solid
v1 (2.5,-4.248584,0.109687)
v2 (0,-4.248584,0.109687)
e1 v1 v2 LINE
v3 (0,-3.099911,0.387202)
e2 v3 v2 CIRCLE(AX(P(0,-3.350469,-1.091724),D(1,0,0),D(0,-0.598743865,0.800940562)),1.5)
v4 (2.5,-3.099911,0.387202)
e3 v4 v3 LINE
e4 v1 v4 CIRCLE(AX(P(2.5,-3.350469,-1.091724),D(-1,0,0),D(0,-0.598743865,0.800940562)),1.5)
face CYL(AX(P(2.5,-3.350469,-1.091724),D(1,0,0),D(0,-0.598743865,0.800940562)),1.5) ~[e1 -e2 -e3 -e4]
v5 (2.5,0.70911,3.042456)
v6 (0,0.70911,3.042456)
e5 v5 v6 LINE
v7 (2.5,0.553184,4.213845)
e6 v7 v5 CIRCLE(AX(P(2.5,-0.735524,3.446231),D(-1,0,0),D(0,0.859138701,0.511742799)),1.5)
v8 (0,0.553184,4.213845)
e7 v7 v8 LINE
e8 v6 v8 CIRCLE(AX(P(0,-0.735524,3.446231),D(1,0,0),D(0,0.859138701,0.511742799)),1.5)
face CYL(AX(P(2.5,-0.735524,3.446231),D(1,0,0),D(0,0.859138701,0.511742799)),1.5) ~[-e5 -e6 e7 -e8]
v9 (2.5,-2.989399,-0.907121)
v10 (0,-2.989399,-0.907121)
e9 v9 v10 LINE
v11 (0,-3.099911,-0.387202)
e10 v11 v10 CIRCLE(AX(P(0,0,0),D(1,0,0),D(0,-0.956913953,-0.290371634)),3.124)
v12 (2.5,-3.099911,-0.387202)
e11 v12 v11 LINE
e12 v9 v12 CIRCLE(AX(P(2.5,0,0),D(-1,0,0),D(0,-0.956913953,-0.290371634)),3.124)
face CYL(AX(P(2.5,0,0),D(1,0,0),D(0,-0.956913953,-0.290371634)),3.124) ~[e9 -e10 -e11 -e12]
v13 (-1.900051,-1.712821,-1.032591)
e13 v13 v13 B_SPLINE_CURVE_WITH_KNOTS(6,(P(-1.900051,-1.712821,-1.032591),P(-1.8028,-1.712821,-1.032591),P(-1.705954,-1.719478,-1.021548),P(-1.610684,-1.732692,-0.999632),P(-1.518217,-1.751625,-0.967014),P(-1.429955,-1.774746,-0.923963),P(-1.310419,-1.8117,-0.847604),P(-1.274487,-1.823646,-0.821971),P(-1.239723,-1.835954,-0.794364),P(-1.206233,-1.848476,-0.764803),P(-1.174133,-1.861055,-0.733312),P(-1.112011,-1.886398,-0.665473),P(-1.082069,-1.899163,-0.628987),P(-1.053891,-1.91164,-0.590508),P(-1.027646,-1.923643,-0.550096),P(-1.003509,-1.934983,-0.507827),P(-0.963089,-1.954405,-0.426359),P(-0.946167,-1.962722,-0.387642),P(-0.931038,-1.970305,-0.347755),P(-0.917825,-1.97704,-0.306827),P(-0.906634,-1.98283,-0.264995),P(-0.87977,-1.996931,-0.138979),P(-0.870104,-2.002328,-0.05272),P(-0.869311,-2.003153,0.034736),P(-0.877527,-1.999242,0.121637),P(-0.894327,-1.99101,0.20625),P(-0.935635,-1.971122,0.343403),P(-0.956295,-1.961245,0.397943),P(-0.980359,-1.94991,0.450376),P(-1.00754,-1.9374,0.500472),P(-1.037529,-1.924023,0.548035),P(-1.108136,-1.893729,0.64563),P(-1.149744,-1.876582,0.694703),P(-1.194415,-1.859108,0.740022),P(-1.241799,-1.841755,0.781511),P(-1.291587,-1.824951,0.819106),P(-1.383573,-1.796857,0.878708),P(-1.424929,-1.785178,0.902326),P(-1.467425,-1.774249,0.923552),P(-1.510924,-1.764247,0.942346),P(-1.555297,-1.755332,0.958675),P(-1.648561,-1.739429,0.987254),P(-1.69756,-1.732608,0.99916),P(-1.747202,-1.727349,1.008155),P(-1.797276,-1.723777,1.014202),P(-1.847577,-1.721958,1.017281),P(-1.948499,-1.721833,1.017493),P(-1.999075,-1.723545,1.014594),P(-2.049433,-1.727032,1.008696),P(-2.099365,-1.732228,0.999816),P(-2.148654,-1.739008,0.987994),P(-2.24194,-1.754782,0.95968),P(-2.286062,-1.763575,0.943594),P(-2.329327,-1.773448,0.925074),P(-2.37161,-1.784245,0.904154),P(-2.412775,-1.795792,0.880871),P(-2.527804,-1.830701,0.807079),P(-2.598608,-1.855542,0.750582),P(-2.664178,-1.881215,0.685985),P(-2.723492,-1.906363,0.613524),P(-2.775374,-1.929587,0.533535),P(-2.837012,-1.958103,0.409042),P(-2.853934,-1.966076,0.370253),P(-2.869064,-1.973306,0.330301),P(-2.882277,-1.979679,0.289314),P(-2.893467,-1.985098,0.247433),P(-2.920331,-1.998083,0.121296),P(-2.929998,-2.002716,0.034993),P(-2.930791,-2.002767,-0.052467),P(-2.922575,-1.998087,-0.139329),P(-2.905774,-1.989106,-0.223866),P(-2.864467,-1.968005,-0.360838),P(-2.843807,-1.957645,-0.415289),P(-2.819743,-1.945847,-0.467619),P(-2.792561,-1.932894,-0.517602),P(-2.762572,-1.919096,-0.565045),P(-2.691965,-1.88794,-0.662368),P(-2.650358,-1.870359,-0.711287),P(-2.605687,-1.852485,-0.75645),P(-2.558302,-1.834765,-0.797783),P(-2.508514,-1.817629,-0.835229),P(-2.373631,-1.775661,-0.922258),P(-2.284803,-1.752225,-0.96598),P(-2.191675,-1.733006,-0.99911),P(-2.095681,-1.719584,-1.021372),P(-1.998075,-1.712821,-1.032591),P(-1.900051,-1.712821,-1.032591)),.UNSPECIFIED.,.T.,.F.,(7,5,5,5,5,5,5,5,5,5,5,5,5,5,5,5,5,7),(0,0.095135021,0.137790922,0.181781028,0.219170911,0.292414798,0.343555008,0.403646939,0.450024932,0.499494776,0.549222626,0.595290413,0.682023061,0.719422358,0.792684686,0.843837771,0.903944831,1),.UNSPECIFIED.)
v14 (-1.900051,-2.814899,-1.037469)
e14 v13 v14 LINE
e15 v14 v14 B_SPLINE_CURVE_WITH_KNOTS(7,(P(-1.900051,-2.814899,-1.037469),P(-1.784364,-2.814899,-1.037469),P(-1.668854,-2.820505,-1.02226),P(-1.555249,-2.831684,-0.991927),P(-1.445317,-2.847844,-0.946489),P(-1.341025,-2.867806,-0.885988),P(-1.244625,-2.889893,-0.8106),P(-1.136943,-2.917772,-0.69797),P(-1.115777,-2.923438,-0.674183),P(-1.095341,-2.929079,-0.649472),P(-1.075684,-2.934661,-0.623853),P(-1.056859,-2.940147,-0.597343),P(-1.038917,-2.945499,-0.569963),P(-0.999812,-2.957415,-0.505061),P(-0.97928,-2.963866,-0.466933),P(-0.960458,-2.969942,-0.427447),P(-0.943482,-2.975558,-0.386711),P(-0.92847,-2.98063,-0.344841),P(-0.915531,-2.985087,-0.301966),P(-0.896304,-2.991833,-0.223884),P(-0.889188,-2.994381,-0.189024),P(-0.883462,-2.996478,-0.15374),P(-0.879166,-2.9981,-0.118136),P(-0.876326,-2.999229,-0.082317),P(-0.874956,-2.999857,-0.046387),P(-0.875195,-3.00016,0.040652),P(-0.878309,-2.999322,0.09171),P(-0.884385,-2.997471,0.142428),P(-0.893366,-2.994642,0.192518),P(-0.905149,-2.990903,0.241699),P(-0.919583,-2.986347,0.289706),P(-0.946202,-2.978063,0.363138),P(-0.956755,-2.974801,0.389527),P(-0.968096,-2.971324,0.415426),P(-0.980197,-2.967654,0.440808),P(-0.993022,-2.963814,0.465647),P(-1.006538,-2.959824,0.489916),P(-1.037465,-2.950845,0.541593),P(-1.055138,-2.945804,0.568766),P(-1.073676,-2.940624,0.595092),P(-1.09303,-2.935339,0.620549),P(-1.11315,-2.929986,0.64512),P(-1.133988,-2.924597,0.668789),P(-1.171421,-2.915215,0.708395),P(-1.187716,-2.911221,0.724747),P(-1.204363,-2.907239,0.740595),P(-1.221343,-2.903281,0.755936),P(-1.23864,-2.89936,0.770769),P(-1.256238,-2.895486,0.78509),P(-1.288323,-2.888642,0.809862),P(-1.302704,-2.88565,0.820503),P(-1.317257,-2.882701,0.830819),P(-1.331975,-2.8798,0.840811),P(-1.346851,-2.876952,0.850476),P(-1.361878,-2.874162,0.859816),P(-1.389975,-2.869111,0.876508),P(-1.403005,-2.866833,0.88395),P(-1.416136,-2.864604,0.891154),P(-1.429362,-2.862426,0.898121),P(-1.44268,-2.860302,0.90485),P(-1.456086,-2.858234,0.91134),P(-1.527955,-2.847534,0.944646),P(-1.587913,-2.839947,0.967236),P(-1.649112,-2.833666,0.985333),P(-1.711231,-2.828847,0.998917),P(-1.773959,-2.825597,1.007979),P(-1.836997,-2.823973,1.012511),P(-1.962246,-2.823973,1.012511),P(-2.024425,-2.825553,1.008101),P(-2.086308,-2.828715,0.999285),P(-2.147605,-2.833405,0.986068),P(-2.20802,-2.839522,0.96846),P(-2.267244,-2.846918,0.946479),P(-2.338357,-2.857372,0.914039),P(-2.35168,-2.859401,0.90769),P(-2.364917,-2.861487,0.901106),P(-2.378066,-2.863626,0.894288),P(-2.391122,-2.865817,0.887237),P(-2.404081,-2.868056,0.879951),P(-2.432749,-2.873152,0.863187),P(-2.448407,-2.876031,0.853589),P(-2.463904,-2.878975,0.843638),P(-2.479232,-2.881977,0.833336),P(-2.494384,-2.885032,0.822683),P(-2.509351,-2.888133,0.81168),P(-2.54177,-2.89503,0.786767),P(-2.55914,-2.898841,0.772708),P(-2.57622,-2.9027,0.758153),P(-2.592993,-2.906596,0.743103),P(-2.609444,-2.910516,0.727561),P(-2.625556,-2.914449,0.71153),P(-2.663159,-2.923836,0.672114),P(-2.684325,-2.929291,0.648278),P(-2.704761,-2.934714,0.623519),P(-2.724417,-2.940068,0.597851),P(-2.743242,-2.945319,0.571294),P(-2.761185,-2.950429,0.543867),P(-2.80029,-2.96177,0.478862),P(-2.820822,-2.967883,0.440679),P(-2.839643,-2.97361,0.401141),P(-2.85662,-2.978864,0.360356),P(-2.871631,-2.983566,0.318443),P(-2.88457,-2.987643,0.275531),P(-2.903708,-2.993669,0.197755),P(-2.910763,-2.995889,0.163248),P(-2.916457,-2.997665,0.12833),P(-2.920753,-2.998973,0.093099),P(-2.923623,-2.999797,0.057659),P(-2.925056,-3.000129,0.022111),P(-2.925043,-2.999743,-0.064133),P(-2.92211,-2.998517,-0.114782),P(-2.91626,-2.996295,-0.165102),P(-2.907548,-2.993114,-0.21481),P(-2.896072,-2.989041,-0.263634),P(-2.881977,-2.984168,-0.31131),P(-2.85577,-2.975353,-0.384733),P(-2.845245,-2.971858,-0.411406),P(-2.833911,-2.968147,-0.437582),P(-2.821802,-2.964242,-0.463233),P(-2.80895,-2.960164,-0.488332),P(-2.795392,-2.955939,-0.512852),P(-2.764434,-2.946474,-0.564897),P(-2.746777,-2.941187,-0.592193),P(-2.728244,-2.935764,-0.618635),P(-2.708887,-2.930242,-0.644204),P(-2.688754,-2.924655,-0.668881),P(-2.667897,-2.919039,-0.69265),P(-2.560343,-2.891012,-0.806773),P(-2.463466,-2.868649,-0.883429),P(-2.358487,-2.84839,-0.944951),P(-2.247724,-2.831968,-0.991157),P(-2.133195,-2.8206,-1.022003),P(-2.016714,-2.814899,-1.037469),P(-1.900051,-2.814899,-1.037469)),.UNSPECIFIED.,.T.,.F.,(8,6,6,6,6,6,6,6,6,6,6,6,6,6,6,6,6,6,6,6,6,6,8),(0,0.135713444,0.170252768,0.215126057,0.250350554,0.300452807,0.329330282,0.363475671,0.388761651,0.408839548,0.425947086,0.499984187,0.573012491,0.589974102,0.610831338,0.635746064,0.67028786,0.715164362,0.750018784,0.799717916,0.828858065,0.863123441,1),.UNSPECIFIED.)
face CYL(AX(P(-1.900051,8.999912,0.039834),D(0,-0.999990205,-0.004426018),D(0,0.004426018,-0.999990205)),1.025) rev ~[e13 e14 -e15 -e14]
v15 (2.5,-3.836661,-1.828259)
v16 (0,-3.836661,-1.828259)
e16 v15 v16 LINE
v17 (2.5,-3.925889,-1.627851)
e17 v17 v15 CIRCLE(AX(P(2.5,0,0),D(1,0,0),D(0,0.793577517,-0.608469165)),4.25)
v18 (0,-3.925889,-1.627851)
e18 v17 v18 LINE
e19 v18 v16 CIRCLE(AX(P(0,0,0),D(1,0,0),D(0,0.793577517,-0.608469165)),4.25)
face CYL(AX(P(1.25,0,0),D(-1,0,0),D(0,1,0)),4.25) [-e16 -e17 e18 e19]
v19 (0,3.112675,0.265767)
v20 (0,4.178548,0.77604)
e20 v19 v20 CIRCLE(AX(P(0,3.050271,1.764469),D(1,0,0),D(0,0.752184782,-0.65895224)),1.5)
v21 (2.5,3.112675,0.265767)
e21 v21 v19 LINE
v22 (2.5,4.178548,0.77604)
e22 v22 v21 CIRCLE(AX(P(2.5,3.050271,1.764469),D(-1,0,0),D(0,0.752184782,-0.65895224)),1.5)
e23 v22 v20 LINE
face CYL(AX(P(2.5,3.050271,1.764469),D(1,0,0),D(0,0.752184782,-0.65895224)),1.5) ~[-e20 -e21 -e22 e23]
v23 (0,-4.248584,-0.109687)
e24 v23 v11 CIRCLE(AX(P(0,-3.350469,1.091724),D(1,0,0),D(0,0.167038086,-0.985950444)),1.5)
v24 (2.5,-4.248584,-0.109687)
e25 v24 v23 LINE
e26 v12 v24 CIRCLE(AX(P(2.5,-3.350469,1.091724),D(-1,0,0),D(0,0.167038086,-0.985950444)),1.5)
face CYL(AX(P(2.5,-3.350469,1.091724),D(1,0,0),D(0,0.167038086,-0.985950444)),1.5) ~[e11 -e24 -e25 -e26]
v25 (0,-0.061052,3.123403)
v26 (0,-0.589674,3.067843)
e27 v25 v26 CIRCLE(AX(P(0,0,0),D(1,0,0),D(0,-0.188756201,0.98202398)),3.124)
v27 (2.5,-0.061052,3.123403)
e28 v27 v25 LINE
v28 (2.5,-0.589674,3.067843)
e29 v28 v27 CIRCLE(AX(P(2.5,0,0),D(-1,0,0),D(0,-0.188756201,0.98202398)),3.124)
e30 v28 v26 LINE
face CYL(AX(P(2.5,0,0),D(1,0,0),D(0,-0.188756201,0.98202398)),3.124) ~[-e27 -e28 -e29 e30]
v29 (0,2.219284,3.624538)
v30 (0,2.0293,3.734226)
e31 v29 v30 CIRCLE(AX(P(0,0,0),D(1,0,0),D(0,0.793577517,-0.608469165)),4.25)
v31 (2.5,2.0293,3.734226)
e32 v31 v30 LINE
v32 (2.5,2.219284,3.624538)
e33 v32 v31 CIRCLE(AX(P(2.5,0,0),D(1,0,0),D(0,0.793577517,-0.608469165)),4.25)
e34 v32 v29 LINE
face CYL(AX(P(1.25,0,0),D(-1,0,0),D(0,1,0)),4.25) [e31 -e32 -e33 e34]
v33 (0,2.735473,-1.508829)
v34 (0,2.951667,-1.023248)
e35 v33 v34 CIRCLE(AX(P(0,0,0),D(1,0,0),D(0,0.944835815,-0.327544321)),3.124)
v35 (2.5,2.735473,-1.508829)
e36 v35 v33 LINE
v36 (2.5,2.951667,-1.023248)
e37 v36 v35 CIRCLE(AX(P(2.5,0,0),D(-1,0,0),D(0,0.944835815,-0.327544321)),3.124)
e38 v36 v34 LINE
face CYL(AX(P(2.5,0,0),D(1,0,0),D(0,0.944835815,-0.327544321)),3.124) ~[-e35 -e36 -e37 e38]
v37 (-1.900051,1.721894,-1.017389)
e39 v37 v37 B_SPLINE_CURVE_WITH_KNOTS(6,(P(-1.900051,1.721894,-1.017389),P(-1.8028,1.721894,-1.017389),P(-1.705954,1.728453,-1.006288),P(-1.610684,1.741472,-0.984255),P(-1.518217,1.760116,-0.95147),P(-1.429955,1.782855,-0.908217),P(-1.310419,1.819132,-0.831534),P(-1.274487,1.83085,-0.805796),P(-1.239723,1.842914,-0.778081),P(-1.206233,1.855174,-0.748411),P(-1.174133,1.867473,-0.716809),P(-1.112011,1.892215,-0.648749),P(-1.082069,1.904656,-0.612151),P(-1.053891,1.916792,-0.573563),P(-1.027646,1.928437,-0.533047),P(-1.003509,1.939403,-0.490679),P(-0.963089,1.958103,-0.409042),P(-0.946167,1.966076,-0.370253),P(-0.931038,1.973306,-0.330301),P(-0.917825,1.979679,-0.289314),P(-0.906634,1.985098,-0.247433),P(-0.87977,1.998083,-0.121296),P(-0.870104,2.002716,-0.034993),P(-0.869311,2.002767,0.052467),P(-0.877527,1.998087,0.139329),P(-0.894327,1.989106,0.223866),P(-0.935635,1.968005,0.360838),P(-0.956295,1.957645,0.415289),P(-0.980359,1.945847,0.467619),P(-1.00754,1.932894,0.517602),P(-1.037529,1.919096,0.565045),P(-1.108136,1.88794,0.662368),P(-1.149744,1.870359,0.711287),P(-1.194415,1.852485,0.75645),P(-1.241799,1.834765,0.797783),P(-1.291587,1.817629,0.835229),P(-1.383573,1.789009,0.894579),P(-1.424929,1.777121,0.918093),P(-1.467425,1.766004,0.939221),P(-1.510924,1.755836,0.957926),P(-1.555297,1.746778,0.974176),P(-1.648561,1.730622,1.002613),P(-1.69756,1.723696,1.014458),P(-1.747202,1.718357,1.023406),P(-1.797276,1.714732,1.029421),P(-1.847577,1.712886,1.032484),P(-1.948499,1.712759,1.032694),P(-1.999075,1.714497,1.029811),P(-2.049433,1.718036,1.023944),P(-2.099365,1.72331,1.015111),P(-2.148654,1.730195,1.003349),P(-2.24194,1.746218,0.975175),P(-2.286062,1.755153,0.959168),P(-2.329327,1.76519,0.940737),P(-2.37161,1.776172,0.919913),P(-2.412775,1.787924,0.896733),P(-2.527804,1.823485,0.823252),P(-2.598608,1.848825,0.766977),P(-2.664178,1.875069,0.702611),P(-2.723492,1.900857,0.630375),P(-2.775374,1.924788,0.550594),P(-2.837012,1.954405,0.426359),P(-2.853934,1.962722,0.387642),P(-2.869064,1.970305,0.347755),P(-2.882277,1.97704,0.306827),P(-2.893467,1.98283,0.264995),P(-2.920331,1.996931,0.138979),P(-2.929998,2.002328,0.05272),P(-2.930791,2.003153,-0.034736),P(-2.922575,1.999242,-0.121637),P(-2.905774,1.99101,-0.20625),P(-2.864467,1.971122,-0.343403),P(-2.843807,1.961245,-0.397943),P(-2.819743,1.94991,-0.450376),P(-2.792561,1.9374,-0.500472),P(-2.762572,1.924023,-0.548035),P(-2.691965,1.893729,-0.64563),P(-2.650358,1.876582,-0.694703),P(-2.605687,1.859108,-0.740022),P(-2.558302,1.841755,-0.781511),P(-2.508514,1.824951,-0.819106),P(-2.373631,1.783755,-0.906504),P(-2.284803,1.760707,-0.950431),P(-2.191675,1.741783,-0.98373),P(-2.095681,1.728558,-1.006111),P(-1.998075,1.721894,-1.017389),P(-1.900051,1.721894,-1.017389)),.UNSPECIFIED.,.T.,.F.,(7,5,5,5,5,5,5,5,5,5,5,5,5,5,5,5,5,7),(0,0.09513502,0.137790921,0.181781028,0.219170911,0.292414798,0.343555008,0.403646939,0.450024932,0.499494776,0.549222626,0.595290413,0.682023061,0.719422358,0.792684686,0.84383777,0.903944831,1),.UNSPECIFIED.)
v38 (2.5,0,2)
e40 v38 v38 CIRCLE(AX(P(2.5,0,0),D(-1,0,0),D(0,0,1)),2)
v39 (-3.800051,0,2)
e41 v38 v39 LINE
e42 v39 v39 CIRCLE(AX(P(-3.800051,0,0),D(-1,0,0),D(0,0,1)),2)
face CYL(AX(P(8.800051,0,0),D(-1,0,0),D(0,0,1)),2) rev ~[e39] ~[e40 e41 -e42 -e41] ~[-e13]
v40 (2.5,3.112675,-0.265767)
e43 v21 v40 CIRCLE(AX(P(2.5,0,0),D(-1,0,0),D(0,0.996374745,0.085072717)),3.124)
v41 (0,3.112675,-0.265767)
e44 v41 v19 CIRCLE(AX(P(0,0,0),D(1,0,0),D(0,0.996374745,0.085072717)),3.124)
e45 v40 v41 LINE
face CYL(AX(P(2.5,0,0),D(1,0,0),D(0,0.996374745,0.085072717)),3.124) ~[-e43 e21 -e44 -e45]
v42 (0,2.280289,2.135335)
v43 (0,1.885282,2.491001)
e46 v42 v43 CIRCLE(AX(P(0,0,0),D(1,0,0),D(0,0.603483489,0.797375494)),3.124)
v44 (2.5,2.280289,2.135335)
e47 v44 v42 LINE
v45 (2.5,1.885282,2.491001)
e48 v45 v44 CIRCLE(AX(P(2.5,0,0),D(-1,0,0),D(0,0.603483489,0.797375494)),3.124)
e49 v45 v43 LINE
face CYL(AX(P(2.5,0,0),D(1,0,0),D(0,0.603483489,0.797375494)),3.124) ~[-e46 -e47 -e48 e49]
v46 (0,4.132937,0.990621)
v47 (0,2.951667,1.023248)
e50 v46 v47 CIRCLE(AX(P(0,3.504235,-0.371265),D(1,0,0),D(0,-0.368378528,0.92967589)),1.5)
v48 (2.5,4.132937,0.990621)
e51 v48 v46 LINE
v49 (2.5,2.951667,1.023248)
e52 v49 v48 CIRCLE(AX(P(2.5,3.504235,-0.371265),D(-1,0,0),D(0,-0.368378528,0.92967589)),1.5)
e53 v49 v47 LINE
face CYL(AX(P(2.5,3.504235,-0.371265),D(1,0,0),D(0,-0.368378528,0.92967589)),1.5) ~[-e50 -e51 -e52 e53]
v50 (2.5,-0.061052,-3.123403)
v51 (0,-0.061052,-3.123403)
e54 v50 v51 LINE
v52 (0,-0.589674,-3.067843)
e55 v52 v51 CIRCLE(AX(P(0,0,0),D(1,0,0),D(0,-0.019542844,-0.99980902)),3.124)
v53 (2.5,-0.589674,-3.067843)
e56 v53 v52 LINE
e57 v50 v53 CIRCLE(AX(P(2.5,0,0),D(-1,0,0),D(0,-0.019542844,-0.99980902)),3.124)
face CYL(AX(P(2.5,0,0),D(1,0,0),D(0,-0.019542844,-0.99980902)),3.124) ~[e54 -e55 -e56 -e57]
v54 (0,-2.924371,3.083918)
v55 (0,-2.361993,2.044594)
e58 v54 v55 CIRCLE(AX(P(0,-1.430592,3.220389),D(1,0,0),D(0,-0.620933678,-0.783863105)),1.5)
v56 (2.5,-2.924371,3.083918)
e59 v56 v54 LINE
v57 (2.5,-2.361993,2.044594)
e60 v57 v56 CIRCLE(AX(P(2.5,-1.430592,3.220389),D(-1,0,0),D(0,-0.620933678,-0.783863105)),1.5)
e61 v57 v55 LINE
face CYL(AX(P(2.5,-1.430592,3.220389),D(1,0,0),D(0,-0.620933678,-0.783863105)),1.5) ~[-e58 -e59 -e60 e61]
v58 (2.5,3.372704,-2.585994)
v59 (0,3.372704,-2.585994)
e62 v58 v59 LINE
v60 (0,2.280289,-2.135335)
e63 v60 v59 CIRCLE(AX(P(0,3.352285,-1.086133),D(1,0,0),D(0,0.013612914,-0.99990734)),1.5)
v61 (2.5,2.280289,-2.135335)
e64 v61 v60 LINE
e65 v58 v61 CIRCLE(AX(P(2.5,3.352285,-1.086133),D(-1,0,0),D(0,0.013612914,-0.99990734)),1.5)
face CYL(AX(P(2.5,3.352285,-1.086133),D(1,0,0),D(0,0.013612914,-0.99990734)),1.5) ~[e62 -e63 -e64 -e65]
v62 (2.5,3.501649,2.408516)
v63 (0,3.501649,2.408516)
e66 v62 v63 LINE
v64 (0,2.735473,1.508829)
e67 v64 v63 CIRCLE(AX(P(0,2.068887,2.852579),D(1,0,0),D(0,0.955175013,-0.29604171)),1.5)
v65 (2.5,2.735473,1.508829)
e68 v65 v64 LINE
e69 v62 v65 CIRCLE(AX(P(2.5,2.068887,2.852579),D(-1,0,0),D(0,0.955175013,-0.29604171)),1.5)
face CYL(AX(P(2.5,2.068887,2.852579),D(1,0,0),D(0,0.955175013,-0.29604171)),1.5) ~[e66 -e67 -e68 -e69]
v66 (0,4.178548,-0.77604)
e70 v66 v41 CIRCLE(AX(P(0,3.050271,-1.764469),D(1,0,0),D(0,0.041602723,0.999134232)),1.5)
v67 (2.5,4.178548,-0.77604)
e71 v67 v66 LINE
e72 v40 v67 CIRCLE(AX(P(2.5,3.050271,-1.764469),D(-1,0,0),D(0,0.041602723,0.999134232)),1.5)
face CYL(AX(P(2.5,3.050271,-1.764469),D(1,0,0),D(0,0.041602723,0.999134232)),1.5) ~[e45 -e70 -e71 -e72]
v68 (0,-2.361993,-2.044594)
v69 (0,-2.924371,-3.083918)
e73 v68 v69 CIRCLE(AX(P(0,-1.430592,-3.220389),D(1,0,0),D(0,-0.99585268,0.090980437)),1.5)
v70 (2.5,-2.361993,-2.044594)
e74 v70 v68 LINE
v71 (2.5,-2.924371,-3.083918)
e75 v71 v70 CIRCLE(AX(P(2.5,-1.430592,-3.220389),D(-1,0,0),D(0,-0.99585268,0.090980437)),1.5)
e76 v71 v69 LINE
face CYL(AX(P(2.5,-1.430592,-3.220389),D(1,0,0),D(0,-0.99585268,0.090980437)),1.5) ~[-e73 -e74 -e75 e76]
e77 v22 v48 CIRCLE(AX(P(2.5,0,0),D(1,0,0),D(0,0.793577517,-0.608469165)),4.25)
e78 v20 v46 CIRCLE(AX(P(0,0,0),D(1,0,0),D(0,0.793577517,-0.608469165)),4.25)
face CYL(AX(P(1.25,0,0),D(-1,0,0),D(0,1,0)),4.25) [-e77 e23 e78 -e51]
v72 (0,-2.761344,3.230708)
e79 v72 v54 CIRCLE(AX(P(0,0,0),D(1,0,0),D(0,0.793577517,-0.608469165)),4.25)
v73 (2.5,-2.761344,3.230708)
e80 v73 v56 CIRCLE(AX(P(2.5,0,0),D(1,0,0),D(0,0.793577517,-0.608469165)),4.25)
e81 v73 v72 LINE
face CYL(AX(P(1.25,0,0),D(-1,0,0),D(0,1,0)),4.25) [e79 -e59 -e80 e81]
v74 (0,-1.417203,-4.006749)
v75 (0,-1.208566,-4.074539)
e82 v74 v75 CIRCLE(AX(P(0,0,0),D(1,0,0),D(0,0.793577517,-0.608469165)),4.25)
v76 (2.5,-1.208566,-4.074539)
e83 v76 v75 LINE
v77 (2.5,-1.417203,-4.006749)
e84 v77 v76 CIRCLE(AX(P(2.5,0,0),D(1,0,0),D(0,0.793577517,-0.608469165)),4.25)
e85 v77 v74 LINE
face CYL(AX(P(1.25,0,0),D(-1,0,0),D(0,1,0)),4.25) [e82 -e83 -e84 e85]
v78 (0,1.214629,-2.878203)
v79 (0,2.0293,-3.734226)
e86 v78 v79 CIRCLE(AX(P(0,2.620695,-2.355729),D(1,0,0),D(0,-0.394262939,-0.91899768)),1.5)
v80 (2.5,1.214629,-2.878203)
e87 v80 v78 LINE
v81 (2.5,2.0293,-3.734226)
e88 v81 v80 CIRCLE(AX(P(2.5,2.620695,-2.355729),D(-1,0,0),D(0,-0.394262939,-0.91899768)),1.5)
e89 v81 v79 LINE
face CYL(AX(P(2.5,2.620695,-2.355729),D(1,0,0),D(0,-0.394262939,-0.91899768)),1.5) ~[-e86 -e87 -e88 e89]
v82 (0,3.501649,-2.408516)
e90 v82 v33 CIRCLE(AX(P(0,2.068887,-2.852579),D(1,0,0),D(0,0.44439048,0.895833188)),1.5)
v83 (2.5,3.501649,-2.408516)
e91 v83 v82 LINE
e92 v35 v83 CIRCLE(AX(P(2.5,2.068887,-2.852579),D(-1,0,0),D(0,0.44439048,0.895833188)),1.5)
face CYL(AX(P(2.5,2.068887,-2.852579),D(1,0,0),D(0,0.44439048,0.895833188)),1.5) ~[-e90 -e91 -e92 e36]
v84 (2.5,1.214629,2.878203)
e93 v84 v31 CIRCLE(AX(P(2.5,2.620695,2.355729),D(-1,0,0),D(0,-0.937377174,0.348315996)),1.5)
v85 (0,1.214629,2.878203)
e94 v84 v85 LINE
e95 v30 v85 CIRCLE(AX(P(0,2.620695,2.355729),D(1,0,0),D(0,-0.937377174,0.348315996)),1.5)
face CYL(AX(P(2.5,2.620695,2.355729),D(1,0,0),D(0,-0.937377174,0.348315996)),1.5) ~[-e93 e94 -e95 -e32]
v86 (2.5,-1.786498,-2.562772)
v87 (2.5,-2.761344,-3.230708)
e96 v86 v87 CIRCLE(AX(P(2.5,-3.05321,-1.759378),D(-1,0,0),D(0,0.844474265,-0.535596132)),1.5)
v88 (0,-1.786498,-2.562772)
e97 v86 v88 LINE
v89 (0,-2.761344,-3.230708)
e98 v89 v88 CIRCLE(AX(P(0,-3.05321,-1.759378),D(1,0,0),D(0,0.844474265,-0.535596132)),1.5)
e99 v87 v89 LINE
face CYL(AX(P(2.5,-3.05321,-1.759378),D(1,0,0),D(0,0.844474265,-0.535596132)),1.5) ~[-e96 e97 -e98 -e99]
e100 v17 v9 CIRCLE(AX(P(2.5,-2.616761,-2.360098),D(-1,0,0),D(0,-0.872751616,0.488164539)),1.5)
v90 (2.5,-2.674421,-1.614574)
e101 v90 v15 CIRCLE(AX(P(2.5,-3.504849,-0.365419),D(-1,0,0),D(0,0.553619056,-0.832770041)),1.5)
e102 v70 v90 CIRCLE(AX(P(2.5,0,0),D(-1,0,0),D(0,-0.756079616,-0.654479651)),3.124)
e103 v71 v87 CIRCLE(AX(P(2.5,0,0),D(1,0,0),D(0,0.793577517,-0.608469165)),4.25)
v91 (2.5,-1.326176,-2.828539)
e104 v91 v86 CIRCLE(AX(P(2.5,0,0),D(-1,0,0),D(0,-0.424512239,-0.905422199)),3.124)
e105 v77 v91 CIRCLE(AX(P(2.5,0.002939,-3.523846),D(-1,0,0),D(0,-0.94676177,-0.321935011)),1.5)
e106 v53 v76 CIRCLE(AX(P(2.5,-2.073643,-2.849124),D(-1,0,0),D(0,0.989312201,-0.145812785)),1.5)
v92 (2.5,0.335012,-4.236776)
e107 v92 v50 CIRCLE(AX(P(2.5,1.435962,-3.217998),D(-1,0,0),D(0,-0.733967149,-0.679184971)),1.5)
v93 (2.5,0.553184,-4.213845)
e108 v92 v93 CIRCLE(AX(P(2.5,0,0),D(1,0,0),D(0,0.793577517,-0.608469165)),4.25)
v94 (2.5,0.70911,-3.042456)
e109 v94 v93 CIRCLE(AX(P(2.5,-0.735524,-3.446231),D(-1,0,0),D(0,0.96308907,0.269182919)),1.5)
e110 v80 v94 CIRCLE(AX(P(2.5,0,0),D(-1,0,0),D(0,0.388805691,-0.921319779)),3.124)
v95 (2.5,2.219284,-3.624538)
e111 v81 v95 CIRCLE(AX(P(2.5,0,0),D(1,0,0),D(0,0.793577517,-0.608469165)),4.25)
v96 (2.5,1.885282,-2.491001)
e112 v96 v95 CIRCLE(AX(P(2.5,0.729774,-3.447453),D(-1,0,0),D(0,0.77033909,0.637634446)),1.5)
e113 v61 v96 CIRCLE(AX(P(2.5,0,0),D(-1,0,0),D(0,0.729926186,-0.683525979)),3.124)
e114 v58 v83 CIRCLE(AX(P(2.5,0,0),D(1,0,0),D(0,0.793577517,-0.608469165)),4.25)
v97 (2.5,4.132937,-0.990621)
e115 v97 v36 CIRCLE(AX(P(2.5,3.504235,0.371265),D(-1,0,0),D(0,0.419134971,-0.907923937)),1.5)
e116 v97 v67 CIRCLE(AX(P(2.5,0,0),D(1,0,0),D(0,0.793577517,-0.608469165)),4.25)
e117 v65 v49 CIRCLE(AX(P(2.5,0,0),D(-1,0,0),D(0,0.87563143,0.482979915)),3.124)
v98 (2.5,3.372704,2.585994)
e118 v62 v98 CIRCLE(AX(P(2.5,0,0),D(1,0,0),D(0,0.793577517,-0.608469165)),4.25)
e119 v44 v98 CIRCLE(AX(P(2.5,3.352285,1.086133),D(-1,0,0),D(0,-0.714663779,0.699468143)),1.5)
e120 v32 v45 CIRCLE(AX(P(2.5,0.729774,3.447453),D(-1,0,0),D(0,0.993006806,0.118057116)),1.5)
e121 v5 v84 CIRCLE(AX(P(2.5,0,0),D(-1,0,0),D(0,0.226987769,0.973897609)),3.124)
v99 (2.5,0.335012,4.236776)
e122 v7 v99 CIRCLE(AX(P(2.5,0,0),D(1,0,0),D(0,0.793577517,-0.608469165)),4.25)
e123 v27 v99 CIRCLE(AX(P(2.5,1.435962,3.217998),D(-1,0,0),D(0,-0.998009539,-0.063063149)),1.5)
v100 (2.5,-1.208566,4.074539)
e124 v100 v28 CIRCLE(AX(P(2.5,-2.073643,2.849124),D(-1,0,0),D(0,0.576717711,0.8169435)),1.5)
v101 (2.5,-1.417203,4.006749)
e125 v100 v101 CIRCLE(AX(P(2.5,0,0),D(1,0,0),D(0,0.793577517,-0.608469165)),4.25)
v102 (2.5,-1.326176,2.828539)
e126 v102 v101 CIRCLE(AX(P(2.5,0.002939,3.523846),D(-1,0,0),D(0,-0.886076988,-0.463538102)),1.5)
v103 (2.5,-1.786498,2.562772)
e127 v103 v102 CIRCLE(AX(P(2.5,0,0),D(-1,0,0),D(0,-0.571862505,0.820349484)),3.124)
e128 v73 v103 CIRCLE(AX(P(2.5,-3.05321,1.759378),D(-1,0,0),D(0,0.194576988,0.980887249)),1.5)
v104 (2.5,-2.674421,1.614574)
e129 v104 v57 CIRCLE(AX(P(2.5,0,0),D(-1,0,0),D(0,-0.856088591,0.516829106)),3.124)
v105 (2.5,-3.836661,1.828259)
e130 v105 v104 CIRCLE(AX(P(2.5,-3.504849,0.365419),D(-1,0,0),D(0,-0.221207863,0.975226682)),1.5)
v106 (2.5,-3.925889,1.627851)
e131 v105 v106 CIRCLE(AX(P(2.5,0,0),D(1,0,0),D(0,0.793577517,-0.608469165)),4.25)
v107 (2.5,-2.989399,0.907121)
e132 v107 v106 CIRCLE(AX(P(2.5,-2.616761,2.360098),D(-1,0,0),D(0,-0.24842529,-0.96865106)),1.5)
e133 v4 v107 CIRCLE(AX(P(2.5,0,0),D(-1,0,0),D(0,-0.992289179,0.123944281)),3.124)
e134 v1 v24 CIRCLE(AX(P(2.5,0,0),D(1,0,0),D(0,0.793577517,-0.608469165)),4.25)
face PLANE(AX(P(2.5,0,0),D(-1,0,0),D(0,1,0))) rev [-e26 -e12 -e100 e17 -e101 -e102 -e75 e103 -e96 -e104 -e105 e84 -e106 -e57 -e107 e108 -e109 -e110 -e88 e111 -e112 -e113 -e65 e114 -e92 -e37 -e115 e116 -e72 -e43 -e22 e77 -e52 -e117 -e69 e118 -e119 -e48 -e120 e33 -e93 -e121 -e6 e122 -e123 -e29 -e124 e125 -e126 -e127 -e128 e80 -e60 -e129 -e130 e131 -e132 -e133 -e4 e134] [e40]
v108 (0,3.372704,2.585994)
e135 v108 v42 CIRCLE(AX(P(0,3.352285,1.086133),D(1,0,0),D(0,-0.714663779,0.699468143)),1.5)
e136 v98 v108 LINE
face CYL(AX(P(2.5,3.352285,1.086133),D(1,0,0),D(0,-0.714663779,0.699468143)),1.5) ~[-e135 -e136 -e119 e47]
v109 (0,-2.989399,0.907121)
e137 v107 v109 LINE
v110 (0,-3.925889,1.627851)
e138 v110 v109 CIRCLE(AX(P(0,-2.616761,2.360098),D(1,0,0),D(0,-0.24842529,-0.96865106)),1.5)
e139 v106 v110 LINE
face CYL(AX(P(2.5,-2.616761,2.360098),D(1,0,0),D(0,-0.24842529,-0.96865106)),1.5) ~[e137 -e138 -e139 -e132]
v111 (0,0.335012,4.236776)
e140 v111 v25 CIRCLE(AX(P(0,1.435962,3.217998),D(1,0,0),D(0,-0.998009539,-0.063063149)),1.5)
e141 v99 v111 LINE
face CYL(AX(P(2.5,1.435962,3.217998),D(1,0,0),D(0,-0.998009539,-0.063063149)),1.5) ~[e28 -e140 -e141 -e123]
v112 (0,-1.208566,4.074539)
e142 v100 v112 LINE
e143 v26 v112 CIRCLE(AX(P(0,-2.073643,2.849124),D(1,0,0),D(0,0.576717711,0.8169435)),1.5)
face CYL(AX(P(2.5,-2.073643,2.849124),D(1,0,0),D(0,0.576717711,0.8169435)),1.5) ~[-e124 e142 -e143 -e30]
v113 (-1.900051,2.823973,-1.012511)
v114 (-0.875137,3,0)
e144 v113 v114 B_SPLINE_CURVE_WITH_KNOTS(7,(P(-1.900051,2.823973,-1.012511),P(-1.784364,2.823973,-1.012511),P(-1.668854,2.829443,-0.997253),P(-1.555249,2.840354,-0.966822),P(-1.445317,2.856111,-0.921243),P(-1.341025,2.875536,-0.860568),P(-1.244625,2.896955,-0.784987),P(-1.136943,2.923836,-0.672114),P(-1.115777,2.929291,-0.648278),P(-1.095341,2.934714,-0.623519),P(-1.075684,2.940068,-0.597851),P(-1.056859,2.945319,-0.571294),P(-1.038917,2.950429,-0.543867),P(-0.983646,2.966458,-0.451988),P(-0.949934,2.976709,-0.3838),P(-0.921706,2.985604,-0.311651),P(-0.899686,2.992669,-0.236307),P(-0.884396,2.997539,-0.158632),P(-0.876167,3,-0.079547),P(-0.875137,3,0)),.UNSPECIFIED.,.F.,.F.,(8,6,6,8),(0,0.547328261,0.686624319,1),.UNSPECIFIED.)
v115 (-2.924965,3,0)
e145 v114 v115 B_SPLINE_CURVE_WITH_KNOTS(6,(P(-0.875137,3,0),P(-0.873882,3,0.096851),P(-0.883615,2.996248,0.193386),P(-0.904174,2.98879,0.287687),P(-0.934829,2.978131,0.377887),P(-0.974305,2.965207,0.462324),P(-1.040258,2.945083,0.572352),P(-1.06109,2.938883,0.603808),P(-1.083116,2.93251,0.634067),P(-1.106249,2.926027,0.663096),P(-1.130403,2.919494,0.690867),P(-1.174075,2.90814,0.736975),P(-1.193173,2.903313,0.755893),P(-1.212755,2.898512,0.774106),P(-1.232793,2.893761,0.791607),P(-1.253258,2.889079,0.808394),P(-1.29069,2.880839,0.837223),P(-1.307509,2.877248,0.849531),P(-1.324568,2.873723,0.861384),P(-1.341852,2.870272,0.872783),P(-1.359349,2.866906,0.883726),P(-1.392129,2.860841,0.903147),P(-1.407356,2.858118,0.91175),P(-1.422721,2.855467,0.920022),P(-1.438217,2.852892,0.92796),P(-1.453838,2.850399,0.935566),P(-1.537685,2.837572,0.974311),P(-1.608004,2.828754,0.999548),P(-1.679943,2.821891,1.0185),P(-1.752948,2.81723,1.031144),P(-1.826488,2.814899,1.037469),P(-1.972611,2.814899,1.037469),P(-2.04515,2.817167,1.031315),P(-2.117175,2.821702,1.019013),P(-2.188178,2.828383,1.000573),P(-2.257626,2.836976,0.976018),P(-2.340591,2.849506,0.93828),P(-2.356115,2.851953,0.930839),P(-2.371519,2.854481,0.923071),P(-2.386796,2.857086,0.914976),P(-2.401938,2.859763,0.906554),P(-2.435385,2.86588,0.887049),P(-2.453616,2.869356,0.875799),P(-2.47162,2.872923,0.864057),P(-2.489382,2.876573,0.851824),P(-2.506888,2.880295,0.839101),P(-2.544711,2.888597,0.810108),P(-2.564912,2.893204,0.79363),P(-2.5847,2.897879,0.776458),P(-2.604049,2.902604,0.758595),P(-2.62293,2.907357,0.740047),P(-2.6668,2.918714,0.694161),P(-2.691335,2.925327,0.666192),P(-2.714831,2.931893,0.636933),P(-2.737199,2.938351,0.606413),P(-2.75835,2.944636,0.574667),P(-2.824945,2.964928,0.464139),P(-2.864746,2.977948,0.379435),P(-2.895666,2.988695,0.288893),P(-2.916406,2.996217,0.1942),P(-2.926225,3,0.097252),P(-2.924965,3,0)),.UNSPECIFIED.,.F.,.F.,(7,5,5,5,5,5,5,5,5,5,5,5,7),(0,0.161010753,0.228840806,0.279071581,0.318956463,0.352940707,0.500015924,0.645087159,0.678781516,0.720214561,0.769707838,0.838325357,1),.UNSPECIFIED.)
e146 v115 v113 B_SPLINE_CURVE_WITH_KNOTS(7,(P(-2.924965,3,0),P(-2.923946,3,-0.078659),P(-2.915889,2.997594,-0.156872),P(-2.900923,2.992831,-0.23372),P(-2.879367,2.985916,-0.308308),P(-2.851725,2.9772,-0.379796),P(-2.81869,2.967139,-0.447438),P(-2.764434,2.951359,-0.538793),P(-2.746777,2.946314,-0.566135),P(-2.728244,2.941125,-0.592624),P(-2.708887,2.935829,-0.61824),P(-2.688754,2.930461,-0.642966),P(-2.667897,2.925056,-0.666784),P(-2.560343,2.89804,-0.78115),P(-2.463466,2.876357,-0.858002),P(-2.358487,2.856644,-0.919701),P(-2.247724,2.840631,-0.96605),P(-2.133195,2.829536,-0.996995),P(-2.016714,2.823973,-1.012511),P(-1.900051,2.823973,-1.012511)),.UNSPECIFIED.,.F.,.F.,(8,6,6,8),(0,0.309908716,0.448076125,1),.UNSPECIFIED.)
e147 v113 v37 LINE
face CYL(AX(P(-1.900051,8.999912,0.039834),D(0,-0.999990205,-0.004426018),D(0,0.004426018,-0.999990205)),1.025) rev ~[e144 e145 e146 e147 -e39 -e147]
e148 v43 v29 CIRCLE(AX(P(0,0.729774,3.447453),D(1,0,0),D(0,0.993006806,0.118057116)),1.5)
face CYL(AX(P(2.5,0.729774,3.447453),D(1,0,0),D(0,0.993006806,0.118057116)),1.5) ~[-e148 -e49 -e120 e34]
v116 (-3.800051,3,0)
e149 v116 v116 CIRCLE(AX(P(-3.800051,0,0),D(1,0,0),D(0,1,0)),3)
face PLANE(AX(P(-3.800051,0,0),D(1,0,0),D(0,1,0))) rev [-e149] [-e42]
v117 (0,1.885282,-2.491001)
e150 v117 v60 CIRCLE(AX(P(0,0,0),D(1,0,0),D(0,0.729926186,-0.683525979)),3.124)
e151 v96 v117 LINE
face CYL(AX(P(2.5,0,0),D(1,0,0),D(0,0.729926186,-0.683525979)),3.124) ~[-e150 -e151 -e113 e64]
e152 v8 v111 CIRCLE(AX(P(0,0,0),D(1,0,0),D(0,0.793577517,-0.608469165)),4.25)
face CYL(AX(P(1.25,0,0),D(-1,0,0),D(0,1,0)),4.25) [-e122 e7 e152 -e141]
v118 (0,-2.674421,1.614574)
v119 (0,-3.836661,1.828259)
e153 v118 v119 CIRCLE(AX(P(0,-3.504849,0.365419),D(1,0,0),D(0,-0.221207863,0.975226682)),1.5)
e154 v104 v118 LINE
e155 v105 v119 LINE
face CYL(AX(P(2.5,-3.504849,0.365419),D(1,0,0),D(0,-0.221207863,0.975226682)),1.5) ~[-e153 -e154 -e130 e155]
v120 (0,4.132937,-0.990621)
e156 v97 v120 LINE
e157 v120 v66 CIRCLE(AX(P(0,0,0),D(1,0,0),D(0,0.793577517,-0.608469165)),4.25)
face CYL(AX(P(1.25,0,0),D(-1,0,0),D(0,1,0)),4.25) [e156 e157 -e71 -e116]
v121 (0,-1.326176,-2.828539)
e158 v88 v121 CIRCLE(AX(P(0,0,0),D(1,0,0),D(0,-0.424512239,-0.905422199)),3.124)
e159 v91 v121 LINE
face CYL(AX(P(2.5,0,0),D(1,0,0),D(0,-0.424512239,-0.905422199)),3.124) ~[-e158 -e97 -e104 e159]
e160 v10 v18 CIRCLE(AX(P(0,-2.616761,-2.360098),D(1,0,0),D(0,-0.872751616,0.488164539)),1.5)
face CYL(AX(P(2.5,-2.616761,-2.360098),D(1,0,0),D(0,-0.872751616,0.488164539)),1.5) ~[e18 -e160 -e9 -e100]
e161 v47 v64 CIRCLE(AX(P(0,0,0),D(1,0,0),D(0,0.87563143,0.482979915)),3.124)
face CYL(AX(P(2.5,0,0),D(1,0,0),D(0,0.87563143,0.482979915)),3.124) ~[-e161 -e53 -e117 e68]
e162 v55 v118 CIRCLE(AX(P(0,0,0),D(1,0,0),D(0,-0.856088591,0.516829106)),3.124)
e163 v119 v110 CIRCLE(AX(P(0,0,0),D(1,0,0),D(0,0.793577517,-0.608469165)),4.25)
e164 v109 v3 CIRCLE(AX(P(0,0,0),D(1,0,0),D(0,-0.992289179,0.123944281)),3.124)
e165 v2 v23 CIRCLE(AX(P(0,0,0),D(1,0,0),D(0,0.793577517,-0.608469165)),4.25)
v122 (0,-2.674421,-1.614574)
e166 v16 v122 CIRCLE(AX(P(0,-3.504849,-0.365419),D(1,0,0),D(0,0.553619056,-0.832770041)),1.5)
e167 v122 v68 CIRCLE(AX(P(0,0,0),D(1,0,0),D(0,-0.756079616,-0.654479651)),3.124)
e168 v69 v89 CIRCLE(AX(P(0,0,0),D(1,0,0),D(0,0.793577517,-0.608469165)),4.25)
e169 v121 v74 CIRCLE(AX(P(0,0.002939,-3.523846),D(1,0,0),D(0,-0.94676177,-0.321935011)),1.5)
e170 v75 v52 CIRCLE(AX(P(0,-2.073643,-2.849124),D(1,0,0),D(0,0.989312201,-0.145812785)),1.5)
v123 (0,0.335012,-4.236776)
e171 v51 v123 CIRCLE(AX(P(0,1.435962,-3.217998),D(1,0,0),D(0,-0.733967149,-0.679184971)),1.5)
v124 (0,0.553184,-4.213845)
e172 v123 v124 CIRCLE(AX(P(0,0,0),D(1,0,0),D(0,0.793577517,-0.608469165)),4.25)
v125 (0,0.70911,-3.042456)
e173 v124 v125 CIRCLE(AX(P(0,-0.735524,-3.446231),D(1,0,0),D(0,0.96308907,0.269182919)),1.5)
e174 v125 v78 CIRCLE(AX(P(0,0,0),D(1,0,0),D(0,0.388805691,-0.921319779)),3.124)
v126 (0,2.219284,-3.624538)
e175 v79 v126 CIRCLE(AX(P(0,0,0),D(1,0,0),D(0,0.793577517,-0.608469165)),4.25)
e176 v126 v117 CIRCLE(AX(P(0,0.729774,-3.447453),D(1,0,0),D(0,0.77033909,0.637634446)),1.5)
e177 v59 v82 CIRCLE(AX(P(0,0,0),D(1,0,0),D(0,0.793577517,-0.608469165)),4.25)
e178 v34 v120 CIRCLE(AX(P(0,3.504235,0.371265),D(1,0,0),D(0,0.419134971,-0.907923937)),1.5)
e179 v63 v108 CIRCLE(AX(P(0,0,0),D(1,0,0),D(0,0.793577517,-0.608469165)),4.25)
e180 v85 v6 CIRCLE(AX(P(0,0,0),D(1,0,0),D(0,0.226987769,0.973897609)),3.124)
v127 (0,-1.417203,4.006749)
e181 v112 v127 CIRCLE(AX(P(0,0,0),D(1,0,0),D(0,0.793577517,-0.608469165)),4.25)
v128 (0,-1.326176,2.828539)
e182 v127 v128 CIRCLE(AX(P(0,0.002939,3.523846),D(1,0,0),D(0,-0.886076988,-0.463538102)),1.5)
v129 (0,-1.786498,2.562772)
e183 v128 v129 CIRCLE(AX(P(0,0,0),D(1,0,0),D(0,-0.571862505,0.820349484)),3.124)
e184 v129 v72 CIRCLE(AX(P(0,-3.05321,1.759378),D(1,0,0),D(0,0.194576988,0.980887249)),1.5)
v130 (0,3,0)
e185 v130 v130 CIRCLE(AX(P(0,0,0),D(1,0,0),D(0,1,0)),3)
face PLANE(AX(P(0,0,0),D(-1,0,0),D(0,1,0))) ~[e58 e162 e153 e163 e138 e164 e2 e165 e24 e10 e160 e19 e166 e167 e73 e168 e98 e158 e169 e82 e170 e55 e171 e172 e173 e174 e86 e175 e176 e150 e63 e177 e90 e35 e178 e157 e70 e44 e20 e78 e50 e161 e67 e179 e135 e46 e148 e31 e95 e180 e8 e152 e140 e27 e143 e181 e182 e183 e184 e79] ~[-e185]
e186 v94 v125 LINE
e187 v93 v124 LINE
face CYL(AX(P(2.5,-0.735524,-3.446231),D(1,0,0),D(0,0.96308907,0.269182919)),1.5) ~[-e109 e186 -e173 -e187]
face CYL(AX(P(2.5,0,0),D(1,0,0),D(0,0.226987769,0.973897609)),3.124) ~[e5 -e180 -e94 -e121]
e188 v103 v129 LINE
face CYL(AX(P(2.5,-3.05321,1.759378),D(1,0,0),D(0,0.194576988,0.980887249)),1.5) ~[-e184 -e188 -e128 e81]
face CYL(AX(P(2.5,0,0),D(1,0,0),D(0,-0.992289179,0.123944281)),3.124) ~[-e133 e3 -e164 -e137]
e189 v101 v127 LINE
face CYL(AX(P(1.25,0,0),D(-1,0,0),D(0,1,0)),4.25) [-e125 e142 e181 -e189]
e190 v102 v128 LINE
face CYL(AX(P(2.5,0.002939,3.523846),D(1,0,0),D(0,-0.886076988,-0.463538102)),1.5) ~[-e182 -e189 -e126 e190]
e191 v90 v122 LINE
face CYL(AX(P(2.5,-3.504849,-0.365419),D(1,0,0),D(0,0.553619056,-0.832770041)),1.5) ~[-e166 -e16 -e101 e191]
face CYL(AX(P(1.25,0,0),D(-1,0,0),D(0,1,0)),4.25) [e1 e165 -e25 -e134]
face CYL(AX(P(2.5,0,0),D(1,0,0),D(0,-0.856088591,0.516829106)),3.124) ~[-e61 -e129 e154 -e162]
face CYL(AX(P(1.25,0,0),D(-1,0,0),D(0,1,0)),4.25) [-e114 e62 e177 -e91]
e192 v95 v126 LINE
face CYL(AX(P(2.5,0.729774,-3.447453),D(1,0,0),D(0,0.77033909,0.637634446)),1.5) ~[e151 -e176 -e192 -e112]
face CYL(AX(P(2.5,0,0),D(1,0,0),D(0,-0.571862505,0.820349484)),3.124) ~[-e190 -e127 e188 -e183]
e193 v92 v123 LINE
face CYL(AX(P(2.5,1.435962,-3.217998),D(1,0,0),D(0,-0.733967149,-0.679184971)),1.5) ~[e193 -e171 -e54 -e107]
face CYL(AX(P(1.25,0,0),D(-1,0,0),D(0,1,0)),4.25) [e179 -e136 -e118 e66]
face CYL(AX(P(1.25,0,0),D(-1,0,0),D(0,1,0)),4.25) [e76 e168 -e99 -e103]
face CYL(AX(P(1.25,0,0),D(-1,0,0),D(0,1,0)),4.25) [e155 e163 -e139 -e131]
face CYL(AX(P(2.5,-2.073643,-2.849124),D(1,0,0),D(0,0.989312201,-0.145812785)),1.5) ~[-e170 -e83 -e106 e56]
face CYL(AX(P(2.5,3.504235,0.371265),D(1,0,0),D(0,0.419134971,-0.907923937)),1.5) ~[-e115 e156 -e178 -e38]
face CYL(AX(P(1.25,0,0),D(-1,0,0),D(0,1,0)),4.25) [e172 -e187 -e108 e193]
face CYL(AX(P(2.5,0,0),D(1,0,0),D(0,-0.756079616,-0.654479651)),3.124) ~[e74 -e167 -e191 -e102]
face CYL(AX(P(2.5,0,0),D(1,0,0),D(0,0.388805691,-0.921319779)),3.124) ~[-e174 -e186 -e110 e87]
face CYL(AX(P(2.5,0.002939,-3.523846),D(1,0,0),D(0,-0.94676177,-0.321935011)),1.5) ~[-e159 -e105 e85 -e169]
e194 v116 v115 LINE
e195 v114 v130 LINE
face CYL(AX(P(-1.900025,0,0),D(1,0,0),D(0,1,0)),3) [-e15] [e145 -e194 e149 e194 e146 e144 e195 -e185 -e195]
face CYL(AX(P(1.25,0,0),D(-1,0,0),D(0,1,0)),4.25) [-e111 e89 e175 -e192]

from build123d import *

# Parameters (mm, degrees)
SKETCH1_W                          = 2.5
SKETCH1_H                          = 4.25
CUT_EXTRUDE1_DEPTH                 = 3.5
CUT_EXTRUDE2_DEPTH                 = 3.5
CUT_EXTRUDE3_DEPTH                 = 3.5
CUT_EXTRUDE4_DEPTH                 = 3.5
CUT_EXTRUDE5_DEPTH                 = 3.5
CUT_EXTRUDE6_DEPTH                 = 3.5
CUT_EXTRUDE7_DEPTH                 = 3.5
CUT_EXTRUDE8_DEPTH                 = 3.5
CUT_EXTRUDE9_DEPTH                 = 3.5
CUT_EXTRUDE10_DEPTH                = 3.5
CUT_EXTRUDE11_DEPTH                = 3.5
CUT_EXTRUDE12_DEPTH                = 3.5
CUT_EXTRUDE13_DEPTH                = 3.5
CUT_EXTRUDE14_DEPTH                = 3.5
CUT_EXTRUDE15_DEPTH                = 3.5
SKETCH17_W                         = 3.8000508
SKETCH17_H                         = 3
F_4_0_4_DIAMETER_HOLE1_D           = 4
F_4_0_4_DIAMETER_HOLE1_DEPTH       = 6.3000508
TAP_DRILL_FOR_M2_5X0_45_TAP1_D     = 2.05
TAP_DRILL_FOR_M2_5X0_45_TAP1_DEPTH = 6


with BuildPart() as part:
    # Sketch1 → Revolve1 (revolve)
    with BuildSketch(Plane(origin=(0, 0, 0), x_dir=(-1, 0, 0), z_dir=(0, 0, -1))):
        with Locations((-1.25, 2.125)):
            Rectangle(SKETCH1_W, SKETCH1_H)
    revolve(axis=Axis((2.5, 0, 0), (-1, 0, 0)))

    # Sketch2 → Cut-Extrude1 (cut, through all)
    with BuildSketch(Plane(origin=(2.5, 0, 0), x_dir=(0, 0, -1), z_dir=(1, 0, 0))):
        with BuildLine():
            ThreePointArc((2.585993953, 3.372704445), (2.472774023, 2.780247912), (2.135335156, 2.280289405))
            ThreePointArc((2.135335156, 2.280289405), (2.321584435, 2.090364014), (2.491001044, 1.88528242))
            ThreePointArc((2.491001044, 1.88528242), (3.023492692, 2.168612866), (3.624538392, 2.219283994))
            ThreePointArc((3.624538392, 2.219283994), (3.158365508, 2.843805077), (2.585993953, 3.372704445))
        make_face()
    extrude(amount=-CUT_EXTRUDE1_DEPTH, mode=Mode.SUBTRACT)

    # Sketch3 → Cut-Extrude2 (cut, through all)
    with BuildSketch(Plane(origin=(2.5, 0, 0), x_dir=(0, 0, -1), z_dir=(1, 0, 0))):
        with BuildLine():
            ThreePointArc((3.734225512, 2.029300328), (3.389820178, 1.534115047), (2.87820299, 1.214628975))
            ThreePointArc((2.87820299, 1.214628975), (2.971100557, 0.96536909), (3.042456131, 0.709109787))
            ThreePointArc((3.042456131, 0.709109787), (3.644152332, 0.751361165), (4.213844705, 0.553184234))
            ThreePointArc((4.213844705, 0.553184234), (4.041990194, 1.313322226), (3.734225512, 2.029300328))
        make_face()
    extrude(amount=-CUT_EXTRUDE2_DEPTH, mode=Mode.SUBTRACT)

    # Sketch4 → Cut-Extrude3 (cut, through all)
    with BuildSketch(Plane(origin=(2.5, 0, 0), x_dir=(0, 0, -1), z_dir=(1, 0, 0))):
        with BuildLine():
            ThreePointArc((4.236775558, 0.335011746), (3.72073563, 0.022719752), (3.12340338, -0.061051839))
            ThreePointArc((3.12340338, -0.061051839), (3.106886401, -0.326546919), (3.067842913, -0.589674367))
            ThreePointArc((3.067842913, -0.589674367), (3.634704928, -0.795807707), (4.074538988, -1.208566106))
            ThreePointArc((4.074538988, -1.208566106), (4.226718055, -0.444245969), (4.236775558, 0.335011746))
        make_face()
    extrude(amount=-CUT_EXTRUDE3_DEPTH, mode=Mode.SUBTRACT)

    # Sketch5 → Cut-Extrude4 (cut, through all)
    with BuildSketch(Plane(origin=(2.5, 0, 0), x_dir=(0, 0, -1), z_dir=(1, 0, 0))):
        with BuildLine():
            ThreePointArc((4.00674862, -1.417203408), (3.40830209, -1.492603993), (2.82853895, -1.326176235))
            ThreePointArc((2.82853895, -1.326176235), (2.705463361, -1.562), (2.562771785, -1.786498468))
            ThreePointArc((2.562771785, -1.786498468), (2.996784021, -2.205374197), (3.230708464, -2.761344386))
            ThreePointArc((3.230708464, -2.761344386), (3.680607966, -2.124999999), (4.00674862, -1.417203408))
        make_face()
    extrude(amount=-CUT_EXTRUDE4_DEPTH, mode=Mode.SUBTRACT)

    # Sketch6 → Cut-Extrude5 (cut, through all)
    with BuildSketch(Plane(origin=(2.5, 0, 0), x_dir=(0, 0, -1), z_dir=(1, 0, 0))):
        with BuildLine():
            ThreePointArc((3.083918444, -2.92437122), (2.506542154, -2.749842949), (2.044594439, -2.361992714))
            ThreePointArc((2.044594439, -2.361992714), (1.836241128, -2.52736909), (1.614574134, -2.674420753))
            ThreePointArc((1.614574134, -2.674420753), (1.840691933, -3.233611452), (1.828259097, -3.836661137))
            ThreePointArc((1.828259097, -3.836661137), (2.498087322, -3.438322226), (3.083918444, -2.92437122))
        make_face()
    extrude(amount=-CUT_EXTRUDE5_DEPTH, mode=Mode.SUBTRACT)

    # Sketch7 → Cut-Extrude6 (cut, through all)
    with BuildSketch(Plane(origin=(2.5, 0, 0), x_dir=(0, 0, -1), z_dir=(1, 0, 0))):
        with BuildLine():
            ThreePointArc((1.627850754, -3.925888679), (1.17137831, -3.531609077), (0.907120976, -2.989399193))
            ThreePointArc((0.907120976, -2.989399193), (0.649516122, -3.055733105), (0.387201946, -3.099911394))
            ThreePointArc((0.387201946, -3.099911394), (0.366327487, -3.702727912), (0.109687121, -4.248584321))
            ThreePointArc((0.109687121, -4.248584321), (0.883624686, -4.157127303), (1.627850754, -3.925888679))
        make_face()
    extrude(amount=-CUT_EXTRUDE6_DEPTH, mode=Mode.SUBTRACT)

    # Sketch8 → Cut-Extrude7 (cut, through all)
    with BuildSketch(Plane(origin=(2.5, 0, 0), x_dir=(0, 0, -1), z_dir=(1, 0, 0))):
        with BuildLine():
            ThreePointArc((-0.109687122, -4.248584322), (-0.366327487, -3.702727912), (-0.387201947, -3.099911394))
            ThreePointArc((-0.387201947, -3.099911394), (-0.649516122, -3.055733105), (-0.907120975, -2.989399193))
            ThreePointArc((-0.907120975, -2.989399193), (-1.171378309, -3.531609077), (-1.627850753, -3.92588868))
            ThreePointArc((-1.627850753, -3.92588868), (-0.883624686, -4.157127304), (-0.109687122, -4.248584322))
        make_face()
    extrude(amount=-CUT_EXTRUDE7_DEPTH, mode=Mode.SUBTRACT)

    # Sketch9 → Cut-Extrude8 (cut, through all)
    with BuildSketch(Plane(origin=(2.5, 0, 0), x_dir=(0, 0, -1), z_dir=(1, 0, 0))):
        with BuildLine():
            ThreePointArc((-1.828259096, -3.836661137), (-1.840691932, -3.233611453), (-1.614574133, -2.674420754))
            ThreePointArc((-1.614574133, -2.674420754), (-1.836241128, -2.527369091), (-2.044594439, -2.361992714))
            ThreePointArc((-2.044594439, -2.361992714), (-2.506542155, -2.749842949), (-3.083918444, -2.92437122))
            ThreePointArc((-3.083918444, -2.92437122), (-2.498087322, -3.438322226), (-1.828259096, -3.836661137))
        make_face()
    extrude(amount=-CUT_EXTRUDE8_DEPTH, mode=Mode.SUBTRACT)

    # Sketch10 → Cut-Extrude9 (cut, through all)
    with BuildSketch(Plane(origin=(2.5, 0, 0), x_dir=(0, 0, -1), z_dir=(1, 0, 0))):
        with BuildLine():
            ThreePointArc((-3.230708464, -2.761344387), (-2.996784021, -2.205374197), (-2.562771785, -1.786498468))
            ThreePointArc((-2.562771785, -1.786498468), (-2.705463361, -1.562), (-2.82853895, -1.326176236))
            ThreePointArc((-2.82853895, -1.326176236), (-3.40830209, -1.492603994), (-4.006748619, -1.417203409))
            ThreePointArc((-4.006748619, -1.417203409), (-3.680607966, -2.125), (-3.230708464, -2.761344387))
        make_face()
    extrude(amount=-CUT_EXTRUDE9_DEPTH, mode=Mode.SUBTRACT)

    # Sketch11 → Cut-Extrude10 (cut, through all)
    with BuildSketch(Plane(origin=(2.5, 0, 0), x_dir=(0, 0, -1), z_dir=(1, 0, 0))):
        with BuildLine():
            ThreePointArc((-4.074538989, -1.208566105), (-3.634704928, -0.795807707), (-3.067842914, -0.589674368))
            ThreePointArc((-3.067842914, -0.589674368), (-3.106886402, -0.326546919), (-3.12340338, -0.061051839))
            ThreePointArc((-3.12340338, -0.061051839), (-3.720735631, 0.022719752), (-4.236775558, 0.335011747))
            ThreePointArc((-4.236775558, 0.335011747), (-4.226718056, -0.444245968), (-4.074538989, -1.208566105))
        make_face()
    extrude(amount=-CUT_EXTRUDE10_DEPTH, mode=Mode.SUBTRACT)

    # Sketch12 → Cut-Extrude11 (cut, through all)
    with BuildSketch(Plane(origin=(2.5, 0, 0), x_dir=(0, 0, -1), z_dir=(1, 0, 0))):
        with BuildLine():
            ThreePointArc((-4.213844706, 0.553184234), (-3.644152332, 0.751361165), (-3.042456131, 0.709109788))
            ThreePointArc((-3.042456131, 0.709109788), (-2.971100557, 0.96536909), (-2.87820299, 1.214628975))
            ThreePointArc((-2.87820299, 1.214628975), (-3.389820179, 1.534115046), (-3.734225513, 2.029300326))
            ThreePointArc((-3.734225513, 2.029300326), (-4.041990195, 1.313322226), (-4.213844706, 0.553184234))
        make_face()
    extrude(amount=-CUT_EXTRUDE11_DEPTH, mode=Mode.SUBTRACT)

    # Sketch13 → Cut-Extrude12 (cut, through all)
    with BuildSketch(Plane(origin=(2.5, 0, 0), x_dir=(0, 0, -1), z_dir=(1, 0, 0))):
        with BuildLine():
            ThreePointArc((-2.585993952, 3.372704446), (-3.158365508, 2.843805077), (-3.624538391, 2.219283994))
            ThreePointArc((-3.624538391, 2.219283994), (-3.023492692, 2.168612865), (-2.491001044, 1.885282419))
            ThreePointArc((-2.491001044, 1.885282419), (-2.321584435, 2.090364014), (-2.135335156, 2.280289405))
            ThreePointArc((-2.135335156, 2.280289405), (-2.472774022, 2.780247912), (-2.585993952, 3.372704446))
        make_face()
    extrude(amount=-CUT_EXTRUDE12_DEPTH, mode=Mode.SUBTRACT)

    # Sketch14 → Cut-Extrude13 (cut, through all)
    with BuildSketch(Plane(origin=(2.5, 0, 0), x_dir=(0, 0, -1), z_dir=(1, 0, 0))):
        with BuildLine():
            ThreePointArc((-0.990620545, 4.132937326), (-1.728630733, 3.882568195), (-2.408516462, 3.501649391))
            ThreePointArc((-2.408516462, 3.501649391), (-1.880043697, 3.210891701), (-1.508829246, 2.735472593))
            ThreePointArc((-1.508829246, 2.735472593), (-1.270645273, 2.85391601), (-1.023248474, 2.951667081))
            ThreePointArc((-1.023248474, 2.951667081), (-1.128162774, 3.545650656), (-0.990620545, 4.132937326))
        make_face()
    extrude(amount=-CUT_EXTRUDE13_DEPTH, mode=Mode.SUBTRACT)

    # Sketch15 → Cut-Extrude14 (cut, through all)
    with BuildSketch(Plane(origin=(2.5, 0, 0), x_dir=(0, 0, -1), z_dir=(1, 0, 0))):
        with BuildLine():
            ThreePointArc((-0.776040155, 4.178547795), (-0.411518069, 3.69797819), (-0.265767165, 3.112674704))
            ThreePointArc((-0.265767165, 3.112674704), (0, 3.124), (0.265767165, 3.112674704))
            ThreePointArc((0.265767165, 3.112674704), (0.411518069, 3.69797819), (0.776040156, 4.178547795))
            ThreePointArc((0.776040156, 4.178547795), (0, 4.25), (-0.776040155, 4.178547795))
        make_face()
    extrude(amount=-CUT_EXTRUDE14_DEPTH, mode=Mode.SUBTRACT)

    # Sketch16 → Cut-Extrude15 (cut, through all)
    with BuildSketch(Plane(origin=(2.5, 0, 0), x_dir=(0, 0, -1), z_dir=(1, 0, 0))):
        with BuildLine():
            ThreePointArc((0.990620545, 4.132937326), (1.128162774, 3.545650656), (1.023248474, 2.951667081))
            ThreePointArc((1.023248474, 2.951667081), (1.270645273, 2.85391601), (1.508829246, 2.735472593))
            ThreePointArc((1.508829246, 2.735472593), (1.880043697, 3.210891701), (2.408516462, 3.50164939))
            ThreePointArc((2.408516462, 3.50164939), (1.728630733, 3.882568195), (0.990620545, 4.132937326))
        make_face()
    extrude(amount=-CUT_EXTRUDE15_DEPTH, mode=Mode.SUBTRACT)

    # Sketch17 → Revolve2 (revolve)
    with BuildSketch(Plane.XY):
        with Locations((-1.9000254, 1.5)):
            Rectangle(SKETCH17_W, SKETCH17_H)
    revolve(axis=Axis((-3.8000508, 0, 0), (1, 0, 0)))

    # Ø4.0 (4) Diameter Hole1
    with Locations(Plane(origin=(2.5, 0, 0), x_dir=(0, 0, -1), z_dir=(1, 0, 0))):
        with Locations((0, 0)):
            Hole(F_4_0_4_DIAMETER_HOLE1_D / 2, depth=F_4_0_4_DIAMETER_HOLE1_DEPTH)

    # Tap Drill for M2.5x0.45 Tap1
    with Locations(Plane(origin=(-1.9000508, 2.999970615, 0.013278053), x_dir=(0, -0.004426018, 0.999990205), z_dir=(0, 0.999990205, 0.004426018))):
        with Locations((0, 0)):
            Hole(TAP_DRILL_FOR_M2_5X0_45_TAP1_D / 2, depth=TAP_DRILL_FOR_M2_5X0_45_TAP1_DEPTH)


solid = part.part
